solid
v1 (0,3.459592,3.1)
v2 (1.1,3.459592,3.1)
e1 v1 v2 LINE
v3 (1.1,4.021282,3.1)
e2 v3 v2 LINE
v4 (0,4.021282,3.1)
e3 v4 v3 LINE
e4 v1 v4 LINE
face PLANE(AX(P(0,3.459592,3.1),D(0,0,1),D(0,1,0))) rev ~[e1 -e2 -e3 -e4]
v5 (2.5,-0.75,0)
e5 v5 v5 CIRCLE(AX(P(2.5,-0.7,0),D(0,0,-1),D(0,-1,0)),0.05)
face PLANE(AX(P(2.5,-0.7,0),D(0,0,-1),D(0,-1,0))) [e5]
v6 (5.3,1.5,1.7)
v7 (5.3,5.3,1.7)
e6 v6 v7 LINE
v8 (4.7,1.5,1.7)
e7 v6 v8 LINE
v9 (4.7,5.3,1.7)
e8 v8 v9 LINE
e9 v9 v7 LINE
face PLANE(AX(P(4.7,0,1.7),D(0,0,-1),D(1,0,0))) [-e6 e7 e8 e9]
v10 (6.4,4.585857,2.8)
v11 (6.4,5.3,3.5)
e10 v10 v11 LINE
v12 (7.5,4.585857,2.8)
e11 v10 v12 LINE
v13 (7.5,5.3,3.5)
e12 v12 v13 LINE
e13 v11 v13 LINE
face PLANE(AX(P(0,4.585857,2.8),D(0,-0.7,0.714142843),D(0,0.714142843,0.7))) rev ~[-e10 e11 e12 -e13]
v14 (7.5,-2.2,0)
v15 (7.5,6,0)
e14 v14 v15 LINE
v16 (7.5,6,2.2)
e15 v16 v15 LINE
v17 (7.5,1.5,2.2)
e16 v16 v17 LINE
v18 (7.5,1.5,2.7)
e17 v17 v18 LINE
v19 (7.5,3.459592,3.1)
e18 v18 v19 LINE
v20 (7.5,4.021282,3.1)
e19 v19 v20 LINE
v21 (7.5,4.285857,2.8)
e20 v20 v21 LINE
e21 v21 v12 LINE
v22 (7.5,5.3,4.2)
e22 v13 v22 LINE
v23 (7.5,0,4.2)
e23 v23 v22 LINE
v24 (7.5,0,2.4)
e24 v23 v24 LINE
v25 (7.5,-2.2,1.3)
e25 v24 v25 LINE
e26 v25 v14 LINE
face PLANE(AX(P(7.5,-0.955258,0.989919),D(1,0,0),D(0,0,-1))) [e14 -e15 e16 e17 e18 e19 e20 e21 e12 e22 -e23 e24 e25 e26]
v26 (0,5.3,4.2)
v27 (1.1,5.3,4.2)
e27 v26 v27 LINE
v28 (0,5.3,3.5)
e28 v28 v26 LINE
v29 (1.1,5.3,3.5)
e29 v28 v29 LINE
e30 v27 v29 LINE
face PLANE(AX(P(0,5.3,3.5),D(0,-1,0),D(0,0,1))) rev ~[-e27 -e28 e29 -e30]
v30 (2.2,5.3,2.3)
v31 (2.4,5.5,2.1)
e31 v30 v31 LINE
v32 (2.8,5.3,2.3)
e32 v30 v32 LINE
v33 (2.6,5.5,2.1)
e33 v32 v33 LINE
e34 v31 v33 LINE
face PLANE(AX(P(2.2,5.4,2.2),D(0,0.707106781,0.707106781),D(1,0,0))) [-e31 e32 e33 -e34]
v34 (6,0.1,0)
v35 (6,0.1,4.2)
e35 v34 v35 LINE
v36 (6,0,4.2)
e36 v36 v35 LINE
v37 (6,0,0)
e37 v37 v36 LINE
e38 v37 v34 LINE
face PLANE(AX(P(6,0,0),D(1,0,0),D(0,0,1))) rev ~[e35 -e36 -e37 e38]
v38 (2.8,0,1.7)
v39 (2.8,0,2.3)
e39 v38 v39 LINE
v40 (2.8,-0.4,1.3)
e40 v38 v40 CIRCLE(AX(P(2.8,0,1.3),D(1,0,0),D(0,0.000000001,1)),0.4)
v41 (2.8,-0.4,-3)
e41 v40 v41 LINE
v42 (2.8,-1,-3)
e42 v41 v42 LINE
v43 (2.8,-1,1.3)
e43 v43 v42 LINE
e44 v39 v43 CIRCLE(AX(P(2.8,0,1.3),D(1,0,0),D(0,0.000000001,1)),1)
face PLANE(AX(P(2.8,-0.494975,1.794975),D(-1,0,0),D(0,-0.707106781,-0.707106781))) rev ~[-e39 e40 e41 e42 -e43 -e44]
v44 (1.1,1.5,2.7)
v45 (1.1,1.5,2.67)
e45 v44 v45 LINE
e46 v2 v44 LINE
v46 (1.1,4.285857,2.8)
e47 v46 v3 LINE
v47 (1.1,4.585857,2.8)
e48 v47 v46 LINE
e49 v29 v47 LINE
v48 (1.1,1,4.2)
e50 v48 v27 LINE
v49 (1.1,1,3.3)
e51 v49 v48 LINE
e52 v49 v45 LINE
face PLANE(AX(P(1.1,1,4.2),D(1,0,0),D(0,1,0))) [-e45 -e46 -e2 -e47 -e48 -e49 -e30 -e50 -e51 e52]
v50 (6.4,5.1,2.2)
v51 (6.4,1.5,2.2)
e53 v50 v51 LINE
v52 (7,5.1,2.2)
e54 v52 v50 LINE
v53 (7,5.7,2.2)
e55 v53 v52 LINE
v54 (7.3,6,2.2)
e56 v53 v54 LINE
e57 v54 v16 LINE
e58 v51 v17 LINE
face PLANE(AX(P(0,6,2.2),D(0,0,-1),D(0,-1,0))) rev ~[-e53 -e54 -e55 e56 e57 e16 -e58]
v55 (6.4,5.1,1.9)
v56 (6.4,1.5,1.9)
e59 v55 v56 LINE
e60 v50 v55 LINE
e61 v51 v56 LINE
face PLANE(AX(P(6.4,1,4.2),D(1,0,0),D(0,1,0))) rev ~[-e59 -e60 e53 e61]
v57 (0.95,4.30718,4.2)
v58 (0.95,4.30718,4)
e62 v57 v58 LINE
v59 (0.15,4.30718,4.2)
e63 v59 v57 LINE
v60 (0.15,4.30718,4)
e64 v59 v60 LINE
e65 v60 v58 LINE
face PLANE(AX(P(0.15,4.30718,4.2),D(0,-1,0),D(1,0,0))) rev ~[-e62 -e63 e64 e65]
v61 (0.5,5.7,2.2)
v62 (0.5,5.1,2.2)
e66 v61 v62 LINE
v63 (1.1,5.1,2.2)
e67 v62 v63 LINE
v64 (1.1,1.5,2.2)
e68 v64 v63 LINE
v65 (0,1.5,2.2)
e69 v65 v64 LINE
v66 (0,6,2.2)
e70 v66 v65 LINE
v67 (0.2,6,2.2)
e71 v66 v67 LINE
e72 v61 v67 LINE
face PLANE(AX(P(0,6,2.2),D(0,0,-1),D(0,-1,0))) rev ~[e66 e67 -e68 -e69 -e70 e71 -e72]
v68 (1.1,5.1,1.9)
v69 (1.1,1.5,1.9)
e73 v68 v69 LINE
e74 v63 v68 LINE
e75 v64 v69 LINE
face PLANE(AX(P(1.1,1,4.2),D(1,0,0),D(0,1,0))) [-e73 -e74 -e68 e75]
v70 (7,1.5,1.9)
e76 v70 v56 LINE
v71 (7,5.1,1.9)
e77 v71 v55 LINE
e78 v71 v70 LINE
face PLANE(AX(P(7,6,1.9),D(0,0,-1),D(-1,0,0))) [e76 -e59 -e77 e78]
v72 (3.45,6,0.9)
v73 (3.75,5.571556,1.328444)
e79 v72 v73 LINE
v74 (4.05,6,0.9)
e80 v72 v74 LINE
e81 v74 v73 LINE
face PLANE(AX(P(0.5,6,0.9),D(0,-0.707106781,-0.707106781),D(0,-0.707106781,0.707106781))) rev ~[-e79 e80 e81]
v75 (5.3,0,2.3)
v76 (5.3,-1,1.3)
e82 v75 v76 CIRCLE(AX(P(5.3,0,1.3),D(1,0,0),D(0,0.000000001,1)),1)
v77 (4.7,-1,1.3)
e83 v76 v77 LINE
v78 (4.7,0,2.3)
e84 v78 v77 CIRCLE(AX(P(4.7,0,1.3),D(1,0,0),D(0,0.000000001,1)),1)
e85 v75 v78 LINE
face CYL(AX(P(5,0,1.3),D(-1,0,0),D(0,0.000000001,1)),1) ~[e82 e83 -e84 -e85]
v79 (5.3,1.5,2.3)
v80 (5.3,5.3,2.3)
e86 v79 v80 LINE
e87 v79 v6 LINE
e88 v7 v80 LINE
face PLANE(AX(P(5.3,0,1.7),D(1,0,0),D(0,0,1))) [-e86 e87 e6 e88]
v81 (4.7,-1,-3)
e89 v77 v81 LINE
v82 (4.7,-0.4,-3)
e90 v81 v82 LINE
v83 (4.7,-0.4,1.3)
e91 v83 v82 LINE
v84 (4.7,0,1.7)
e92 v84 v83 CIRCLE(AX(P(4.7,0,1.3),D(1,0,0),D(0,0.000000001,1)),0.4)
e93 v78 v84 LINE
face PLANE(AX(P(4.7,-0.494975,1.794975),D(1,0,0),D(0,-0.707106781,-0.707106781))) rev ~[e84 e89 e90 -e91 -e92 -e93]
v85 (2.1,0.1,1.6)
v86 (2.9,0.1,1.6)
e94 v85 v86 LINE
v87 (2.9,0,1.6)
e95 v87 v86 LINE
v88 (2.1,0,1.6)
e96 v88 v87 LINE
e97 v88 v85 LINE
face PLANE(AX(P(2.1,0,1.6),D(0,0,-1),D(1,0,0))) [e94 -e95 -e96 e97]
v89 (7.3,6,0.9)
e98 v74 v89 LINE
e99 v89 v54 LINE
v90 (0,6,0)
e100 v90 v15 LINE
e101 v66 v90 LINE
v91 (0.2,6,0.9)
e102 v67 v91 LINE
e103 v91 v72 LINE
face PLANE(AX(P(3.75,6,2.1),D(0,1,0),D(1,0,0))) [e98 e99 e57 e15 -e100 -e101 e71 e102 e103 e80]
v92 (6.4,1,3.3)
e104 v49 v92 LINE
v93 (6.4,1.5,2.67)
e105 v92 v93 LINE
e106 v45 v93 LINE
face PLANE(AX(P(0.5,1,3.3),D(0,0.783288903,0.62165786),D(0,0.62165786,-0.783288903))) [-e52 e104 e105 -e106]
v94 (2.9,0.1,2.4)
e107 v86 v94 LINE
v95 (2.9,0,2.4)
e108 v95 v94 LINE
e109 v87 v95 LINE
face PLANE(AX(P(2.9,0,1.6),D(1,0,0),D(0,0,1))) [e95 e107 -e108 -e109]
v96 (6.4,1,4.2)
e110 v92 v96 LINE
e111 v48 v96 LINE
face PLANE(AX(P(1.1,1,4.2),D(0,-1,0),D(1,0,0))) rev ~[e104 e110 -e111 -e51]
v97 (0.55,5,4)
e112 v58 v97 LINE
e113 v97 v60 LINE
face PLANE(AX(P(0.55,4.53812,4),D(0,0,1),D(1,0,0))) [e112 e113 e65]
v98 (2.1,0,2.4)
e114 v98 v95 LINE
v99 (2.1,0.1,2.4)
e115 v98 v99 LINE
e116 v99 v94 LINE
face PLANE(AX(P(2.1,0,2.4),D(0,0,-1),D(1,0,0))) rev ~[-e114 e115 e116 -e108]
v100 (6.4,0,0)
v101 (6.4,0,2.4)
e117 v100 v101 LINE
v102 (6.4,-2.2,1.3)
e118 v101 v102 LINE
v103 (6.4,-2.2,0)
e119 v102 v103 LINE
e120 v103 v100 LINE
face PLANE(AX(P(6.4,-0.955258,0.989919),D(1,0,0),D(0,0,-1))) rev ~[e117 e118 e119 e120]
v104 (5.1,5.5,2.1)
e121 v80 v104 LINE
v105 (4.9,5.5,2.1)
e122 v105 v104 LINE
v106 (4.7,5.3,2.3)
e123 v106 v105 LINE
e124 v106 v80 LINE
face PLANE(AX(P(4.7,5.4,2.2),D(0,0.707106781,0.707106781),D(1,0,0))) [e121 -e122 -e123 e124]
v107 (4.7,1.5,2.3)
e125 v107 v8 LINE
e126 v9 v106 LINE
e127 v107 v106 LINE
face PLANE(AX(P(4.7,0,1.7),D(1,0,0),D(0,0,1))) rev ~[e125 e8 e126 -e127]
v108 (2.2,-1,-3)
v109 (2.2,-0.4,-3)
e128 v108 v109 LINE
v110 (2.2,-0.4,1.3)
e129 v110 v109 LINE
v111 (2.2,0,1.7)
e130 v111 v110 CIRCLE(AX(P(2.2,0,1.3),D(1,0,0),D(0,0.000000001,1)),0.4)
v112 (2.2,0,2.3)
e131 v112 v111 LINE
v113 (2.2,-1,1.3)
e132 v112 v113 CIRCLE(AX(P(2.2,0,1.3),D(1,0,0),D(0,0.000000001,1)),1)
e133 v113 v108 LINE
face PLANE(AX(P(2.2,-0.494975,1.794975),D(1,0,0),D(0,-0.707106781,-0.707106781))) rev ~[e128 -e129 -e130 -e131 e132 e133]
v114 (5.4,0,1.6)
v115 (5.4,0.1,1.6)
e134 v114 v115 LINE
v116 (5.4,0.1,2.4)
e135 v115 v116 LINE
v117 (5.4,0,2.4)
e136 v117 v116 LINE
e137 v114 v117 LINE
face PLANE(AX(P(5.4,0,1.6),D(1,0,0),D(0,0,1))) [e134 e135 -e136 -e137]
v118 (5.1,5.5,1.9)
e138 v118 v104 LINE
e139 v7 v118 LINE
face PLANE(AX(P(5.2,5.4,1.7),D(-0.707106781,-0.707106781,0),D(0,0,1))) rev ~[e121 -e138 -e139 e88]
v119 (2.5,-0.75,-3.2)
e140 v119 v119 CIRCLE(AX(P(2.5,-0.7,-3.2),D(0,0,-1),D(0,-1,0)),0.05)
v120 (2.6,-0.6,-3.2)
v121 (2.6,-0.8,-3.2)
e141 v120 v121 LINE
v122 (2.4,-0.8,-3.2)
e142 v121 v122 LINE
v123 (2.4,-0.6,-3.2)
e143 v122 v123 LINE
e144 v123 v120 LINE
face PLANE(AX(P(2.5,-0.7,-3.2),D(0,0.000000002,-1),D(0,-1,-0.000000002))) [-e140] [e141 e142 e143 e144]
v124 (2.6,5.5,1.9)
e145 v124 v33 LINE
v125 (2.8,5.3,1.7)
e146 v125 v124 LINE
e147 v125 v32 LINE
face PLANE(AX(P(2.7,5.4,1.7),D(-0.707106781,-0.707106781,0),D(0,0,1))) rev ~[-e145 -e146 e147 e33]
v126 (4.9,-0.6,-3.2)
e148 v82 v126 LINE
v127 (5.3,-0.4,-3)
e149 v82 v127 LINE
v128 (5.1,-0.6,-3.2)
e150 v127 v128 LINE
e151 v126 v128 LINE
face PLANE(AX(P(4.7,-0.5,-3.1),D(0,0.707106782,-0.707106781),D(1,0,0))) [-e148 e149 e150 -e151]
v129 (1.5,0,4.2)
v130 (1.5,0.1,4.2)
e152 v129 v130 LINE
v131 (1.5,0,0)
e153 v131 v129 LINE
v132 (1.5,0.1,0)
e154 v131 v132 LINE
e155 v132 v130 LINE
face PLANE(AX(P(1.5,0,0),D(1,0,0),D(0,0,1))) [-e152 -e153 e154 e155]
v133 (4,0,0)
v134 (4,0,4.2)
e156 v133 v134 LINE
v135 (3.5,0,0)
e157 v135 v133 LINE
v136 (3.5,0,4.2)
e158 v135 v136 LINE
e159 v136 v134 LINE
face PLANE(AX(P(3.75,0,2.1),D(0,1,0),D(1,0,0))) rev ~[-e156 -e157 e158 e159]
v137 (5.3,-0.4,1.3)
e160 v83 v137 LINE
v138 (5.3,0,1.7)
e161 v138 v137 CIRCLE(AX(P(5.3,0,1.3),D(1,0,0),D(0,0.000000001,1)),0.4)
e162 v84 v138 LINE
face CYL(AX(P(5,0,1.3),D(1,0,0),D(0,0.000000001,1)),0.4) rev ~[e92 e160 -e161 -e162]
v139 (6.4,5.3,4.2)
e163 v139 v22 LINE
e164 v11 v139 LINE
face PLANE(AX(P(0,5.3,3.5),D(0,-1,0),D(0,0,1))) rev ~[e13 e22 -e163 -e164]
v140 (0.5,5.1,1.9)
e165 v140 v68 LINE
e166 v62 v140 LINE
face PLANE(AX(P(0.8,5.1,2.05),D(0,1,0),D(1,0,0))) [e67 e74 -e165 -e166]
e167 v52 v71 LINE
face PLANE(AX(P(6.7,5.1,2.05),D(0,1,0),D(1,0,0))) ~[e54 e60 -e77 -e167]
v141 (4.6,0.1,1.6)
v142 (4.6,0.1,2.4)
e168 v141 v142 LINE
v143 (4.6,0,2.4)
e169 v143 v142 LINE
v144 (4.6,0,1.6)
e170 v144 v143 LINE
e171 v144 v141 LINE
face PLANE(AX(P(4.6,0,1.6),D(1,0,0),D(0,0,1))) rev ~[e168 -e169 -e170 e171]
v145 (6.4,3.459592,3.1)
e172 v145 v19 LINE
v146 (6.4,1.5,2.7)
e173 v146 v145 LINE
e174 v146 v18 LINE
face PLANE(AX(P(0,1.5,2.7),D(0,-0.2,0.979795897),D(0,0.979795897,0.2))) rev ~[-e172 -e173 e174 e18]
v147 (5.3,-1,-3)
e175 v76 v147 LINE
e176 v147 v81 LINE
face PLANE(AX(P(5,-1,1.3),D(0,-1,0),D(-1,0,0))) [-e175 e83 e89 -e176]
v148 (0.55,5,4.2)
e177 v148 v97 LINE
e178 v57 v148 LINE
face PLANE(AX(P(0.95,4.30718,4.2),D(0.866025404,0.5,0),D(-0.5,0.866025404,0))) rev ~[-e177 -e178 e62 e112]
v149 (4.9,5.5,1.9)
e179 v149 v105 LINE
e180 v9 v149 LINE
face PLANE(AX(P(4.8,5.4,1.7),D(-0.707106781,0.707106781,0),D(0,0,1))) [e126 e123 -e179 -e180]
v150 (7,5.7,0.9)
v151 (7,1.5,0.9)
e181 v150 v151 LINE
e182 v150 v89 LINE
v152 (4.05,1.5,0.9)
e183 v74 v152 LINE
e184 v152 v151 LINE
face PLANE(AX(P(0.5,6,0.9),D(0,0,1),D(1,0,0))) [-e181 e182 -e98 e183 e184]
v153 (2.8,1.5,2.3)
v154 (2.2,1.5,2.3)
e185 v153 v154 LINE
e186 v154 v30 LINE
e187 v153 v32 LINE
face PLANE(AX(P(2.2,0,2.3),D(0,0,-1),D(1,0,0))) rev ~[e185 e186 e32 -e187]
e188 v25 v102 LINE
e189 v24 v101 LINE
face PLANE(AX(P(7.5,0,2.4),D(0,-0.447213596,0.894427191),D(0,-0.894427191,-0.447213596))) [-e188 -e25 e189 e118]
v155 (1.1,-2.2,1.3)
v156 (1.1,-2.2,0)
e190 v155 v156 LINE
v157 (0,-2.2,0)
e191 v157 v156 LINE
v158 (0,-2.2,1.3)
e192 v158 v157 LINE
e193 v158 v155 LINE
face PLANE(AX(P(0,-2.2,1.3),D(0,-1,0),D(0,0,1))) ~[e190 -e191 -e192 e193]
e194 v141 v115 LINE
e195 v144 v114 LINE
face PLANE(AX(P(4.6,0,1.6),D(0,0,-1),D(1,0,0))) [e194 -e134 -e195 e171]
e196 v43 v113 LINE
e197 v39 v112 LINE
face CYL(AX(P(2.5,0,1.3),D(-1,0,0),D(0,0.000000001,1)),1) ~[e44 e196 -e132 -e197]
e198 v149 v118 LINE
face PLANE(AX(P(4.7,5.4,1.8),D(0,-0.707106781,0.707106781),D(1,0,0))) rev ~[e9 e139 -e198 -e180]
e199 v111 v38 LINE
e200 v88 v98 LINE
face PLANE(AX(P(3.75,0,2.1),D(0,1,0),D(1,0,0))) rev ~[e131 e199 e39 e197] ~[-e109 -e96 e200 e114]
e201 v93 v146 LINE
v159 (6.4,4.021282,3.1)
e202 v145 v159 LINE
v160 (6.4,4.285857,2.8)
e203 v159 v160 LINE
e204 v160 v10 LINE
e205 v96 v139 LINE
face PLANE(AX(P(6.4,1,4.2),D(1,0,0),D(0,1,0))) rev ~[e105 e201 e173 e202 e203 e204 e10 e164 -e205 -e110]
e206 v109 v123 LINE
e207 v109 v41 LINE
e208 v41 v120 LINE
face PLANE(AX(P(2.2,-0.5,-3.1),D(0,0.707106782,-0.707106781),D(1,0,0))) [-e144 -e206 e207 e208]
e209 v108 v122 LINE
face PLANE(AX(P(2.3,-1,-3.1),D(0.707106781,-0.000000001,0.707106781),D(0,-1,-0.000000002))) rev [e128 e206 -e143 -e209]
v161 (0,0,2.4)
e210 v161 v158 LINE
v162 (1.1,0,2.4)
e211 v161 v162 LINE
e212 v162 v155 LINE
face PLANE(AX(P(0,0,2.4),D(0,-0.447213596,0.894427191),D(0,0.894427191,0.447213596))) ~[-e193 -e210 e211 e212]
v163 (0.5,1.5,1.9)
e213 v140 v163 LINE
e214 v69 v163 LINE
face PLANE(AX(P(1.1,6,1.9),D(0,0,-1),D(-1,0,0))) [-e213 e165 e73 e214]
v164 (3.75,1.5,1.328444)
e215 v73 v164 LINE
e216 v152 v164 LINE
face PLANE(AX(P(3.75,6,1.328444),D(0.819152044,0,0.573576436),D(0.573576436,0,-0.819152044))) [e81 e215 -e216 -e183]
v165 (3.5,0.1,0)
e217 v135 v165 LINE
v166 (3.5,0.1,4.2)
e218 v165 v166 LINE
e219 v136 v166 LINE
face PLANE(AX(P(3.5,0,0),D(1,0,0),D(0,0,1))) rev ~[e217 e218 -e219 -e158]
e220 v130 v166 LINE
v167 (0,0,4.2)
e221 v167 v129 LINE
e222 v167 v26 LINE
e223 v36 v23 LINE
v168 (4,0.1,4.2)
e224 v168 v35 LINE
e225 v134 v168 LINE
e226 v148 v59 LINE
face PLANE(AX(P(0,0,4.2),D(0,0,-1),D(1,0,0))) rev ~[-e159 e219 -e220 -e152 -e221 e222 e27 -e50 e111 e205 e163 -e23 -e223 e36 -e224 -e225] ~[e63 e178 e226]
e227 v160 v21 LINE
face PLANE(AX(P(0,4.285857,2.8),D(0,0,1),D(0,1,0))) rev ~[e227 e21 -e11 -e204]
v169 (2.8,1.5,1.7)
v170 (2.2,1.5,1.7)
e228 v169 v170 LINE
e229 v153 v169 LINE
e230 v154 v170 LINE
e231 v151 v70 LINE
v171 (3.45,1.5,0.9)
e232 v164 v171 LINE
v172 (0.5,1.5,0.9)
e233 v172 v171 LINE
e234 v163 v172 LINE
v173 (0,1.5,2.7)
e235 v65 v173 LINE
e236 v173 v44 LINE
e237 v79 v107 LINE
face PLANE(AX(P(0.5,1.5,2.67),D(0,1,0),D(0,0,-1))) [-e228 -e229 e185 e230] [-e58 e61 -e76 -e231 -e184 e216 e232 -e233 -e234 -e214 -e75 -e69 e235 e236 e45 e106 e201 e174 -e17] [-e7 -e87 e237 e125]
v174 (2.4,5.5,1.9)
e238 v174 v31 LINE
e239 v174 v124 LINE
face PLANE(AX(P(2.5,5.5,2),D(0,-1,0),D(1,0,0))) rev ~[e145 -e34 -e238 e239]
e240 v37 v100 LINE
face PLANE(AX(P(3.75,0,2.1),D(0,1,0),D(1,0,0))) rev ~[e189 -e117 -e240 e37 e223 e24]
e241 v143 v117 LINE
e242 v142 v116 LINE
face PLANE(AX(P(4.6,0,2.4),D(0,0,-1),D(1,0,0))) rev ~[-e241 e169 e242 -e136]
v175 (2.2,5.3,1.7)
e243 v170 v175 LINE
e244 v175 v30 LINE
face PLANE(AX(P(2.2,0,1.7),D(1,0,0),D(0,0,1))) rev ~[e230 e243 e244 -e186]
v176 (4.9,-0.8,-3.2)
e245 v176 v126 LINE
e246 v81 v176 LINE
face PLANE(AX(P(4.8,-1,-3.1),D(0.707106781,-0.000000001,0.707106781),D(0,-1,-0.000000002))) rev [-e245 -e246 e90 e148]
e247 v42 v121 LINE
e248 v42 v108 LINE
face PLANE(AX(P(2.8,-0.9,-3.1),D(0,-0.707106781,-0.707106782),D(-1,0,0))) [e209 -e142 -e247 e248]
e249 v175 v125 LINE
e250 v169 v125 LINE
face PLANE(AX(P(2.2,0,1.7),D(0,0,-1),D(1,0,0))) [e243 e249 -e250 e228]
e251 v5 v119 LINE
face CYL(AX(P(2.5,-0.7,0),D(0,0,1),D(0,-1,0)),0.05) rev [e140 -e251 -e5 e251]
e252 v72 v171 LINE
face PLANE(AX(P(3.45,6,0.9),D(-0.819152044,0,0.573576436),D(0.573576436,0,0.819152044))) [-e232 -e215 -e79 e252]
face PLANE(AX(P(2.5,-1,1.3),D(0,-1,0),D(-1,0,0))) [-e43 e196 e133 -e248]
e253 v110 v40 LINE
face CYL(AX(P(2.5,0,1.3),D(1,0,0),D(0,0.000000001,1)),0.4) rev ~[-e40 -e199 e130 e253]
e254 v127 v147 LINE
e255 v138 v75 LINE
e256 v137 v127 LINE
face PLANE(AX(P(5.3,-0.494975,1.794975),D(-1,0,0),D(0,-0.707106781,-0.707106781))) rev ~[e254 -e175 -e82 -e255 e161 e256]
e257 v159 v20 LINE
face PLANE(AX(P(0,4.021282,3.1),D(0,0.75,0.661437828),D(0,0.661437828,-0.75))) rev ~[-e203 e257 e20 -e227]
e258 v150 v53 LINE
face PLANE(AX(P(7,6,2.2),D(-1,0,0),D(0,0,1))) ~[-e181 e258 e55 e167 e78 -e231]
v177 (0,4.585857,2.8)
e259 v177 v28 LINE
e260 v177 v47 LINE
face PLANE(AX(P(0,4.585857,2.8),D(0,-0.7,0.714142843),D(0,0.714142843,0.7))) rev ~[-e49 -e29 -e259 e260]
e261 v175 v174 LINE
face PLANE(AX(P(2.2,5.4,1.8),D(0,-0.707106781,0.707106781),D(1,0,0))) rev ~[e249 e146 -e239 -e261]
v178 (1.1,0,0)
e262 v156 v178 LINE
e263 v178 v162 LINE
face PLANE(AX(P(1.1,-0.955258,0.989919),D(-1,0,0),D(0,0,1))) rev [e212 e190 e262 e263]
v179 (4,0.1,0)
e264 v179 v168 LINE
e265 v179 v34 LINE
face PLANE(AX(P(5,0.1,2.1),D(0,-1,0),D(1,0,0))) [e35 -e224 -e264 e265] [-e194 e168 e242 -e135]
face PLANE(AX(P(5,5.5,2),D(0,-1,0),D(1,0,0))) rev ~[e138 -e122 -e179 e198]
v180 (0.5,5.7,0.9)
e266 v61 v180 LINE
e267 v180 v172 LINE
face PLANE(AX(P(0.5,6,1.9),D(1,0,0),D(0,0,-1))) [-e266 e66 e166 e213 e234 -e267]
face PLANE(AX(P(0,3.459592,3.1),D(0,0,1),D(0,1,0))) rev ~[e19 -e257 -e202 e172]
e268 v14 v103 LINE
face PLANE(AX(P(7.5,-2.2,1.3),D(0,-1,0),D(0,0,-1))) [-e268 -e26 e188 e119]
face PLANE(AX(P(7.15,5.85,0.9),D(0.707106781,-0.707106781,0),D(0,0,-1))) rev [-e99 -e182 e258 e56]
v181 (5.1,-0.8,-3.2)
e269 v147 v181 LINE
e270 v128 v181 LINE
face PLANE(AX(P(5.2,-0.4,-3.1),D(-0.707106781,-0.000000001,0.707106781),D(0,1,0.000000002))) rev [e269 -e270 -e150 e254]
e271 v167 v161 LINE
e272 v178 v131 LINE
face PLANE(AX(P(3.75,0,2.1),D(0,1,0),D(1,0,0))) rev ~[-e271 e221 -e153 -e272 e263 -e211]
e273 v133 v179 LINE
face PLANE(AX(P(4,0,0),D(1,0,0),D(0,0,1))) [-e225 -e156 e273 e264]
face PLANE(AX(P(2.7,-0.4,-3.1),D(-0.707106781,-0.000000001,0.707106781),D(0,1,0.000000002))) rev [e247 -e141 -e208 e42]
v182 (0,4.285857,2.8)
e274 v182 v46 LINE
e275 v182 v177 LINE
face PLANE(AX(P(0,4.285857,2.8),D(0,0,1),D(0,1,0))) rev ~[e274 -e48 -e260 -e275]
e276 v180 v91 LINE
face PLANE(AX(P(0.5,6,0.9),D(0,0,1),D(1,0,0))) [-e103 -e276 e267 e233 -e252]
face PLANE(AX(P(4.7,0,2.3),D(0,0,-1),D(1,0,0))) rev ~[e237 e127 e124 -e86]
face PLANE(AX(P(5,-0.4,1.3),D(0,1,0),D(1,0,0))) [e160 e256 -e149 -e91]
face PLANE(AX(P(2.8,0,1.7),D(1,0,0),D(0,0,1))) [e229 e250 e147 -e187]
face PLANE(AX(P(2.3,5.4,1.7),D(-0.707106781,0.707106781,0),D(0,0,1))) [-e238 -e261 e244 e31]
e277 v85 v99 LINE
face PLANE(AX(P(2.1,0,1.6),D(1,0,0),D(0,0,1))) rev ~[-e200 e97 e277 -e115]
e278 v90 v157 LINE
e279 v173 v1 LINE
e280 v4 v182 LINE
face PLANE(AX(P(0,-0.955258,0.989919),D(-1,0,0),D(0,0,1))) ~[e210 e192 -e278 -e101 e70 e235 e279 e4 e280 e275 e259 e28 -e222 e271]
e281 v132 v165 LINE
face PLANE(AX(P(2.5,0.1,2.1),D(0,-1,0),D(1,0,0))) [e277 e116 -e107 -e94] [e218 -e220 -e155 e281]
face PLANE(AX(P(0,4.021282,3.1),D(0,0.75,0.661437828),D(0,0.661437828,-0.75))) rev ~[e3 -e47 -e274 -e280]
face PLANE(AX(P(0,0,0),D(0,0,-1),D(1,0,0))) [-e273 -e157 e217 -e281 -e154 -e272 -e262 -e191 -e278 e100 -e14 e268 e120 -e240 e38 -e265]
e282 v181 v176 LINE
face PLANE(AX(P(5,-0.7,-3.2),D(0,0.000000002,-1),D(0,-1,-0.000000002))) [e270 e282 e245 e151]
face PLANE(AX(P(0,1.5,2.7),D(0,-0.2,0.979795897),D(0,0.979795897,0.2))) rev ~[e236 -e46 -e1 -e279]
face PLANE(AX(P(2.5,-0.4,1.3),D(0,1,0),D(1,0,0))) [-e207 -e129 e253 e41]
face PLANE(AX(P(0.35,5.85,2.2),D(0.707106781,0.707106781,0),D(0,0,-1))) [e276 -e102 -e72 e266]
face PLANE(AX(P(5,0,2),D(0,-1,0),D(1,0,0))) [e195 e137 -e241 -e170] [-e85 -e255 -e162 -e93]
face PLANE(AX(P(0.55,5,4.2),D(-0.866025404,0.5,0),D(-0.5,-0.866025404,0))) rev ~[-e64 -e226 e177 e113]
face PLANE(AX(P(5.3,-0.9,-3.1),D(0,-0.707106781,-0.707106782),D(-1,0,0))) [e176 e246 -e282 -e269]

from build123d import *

# Parameters (mm, degrees)
SKETCH_1_W                         = 7.5
SKETCH_1_H                         = 4.2
EXTRUDE_1_DEPTH                    = 6
CUT_EXTRUDE_1_DEPTH                = 5
CUT_EXTRUDE_2_DEPTH                = 11.482843126
EXTRUDE_6_DEPTH                    = 1.1
CUT_EXTRUDE_3_REACH                = 12.483
SKETCH_5_W                         = 5.3
SKETCH_5_H                         = 4.3
EXTRUDE_3_REACH                    = 12.131
EXTRUDE_5_REACH                    = 13.88
SKETCH_11_W                        = 2
SKETCH_11_H                        = 4.2
SKETCH_11_W_2                      = 0.8
SKETCH_11_H_2                      = 0.8
CUT_EXTRUDE_5_DEPTH                = 0.1
SKETCH_15_R                        = 0.05
CUT_EXTRUDE_6_DEPTH                = 0.1
CUT_EXTRUDE_7_DEPTH                = 0.2
SKETCH_7_W                         = 0.6
SKETCH_7_H                         = 0.6
EXTRUDE_4_DEPTH                    = 5.5
SKETCH_18_W                        = 0.6
SKETCH_18_H                        = 0.6
CHAMFER_6_SIZE                     = 0.2
PATTERN_LINEAR_1_COUNT             = 2
PATTERN_LINEAR_1_PITCH             = 2.5
CHAMFER_6_OF_PATTERN_LINEAR_1_SIZE = 0.2
CUT_EXTRUDE_4_REACH                = 12.131
SKETCH_20_W                        = 0.6
SKETCH_20_H                        = 0.3
CUT_EXTRUDE_9_DEPTH                = 0.9
CHAMFER_5_SIZE                     = 0.3
SKETCH_19_R                        = 0.05
CUT_EXTRUDE_8_DEPTH                = 3.2


with BuildPart() as part:
    # Эскиз1 → Бобышка-Вытянуть1 (new body)
    with BuildSketch(Plane(origin=(0, 0, 0), x_dir=(1, 0, 0), z_dir=(0, 1, 0))):
        with Locations((3.75, -2.1)):
            Rectangle(SKETCH_1_W, SKETCH_1_H)
    extrude(amount=EXTRUDE_1_DEPTH)

    # Эскиз2 → Вырез-Вытянуть1 (cut)
    with BuildSketch(Plane(origin=(0, 6, 0), x_dir=(1, 0, 0), z_dir=(0, 1, 0))):
        Polygon((0.5, -0.9), (7, -0.9), (7, -1.9), (6.4, -1.9), (6.4, -3.7), (1.1, -3.7), (1.1, -1.9), (0.5, -1.9), align=None)
    extrude(amount=-CUT_EXTRUDE_1_DEPTH, mode=Mode.SUBTRACT)

    # Эскиз3 → Вырез-Вытянуть2 (cut, through all)
    with BuildSketch(Plane.ZY):
        Polygon((2.2, 6), (2.2, 1.5), (2.7, 1.5), (3.1, 3.459591794), (3.1, 4.021282026), (2.8, 4.285857157), (2.8, 4.585857157), (3.5, 5.3), (4.2, 5.3), (4.2, 6), align=None)
    extrude(amount=-CUT_EXTRUDE_2_DEPTH, mode=Mode.SUBTRACT)

    # Эскиз16 → Бобышка-Вытянуть6 (add)
    with BuildSketch(Plane(origin=(7.5, 0, 0), x_dir=(0, 0, -1), z_dir=(1, 0, 0))):
        Polygon((-2.4, 0), (-1.3, -2.2), (0, -2.2), (0, 0), align=None)
    extrude_6 = extrude(amount=-EXTRUDE_6_DEPTH)

    # Зеркальное отражение2: Бобышка-Вытянуть6 across plane
    add(extrude_6.mirror(Plane(origin=(3.75, 0, 0), x_dir=(0, 0, 1), z_dir=(1, 0, 0))))

    # Эскиз5 → Вырез-Вытянуть3 (cut, up to next)
    with BuildSketch(Plane.XY.offset(4.2), mode=Mode.PRIVATE) as cut_extrude_3_sk1:
        with Locations((3.75, 3.15)):
            Rectangle(SKETCH_5_W, SKETCH_5_H)
    cut_extrude_3_tool1 = extrude(cut_extrude_3_sk1.sketch, amount=-CUT_EXTRUDE_3_REACH, mode=Mode.PRIVATE) & part.part
    add(cut_extrude_3_tool1.solids().sort_by_distance((3.75, 3.15, 4.2))[0], mode=Mode.SUBTRACT)

    # Эскиз6 → Бобышка-Вытянуть3 (add, up to next)
    with BuildSketch(Plane(origin=(0.5, 0, 0), x_dir=(0, 0, -1), z_dir=(1, 0, 0)), mode=Mode.PRIVATE) as extrude_3_sk1:
        Polygon((-3.3, 1), (-2.67, 1.5), (-0.9, 1.5), (-0.9, 1), align=None)
    extrude_3_tool1 = extrude(extrude_3_sk1.sketch, amount=EXTRUDE_3_REACH, mode=Mode.PRIVATE) - part.part
    add(extrude_3_tool1.solids().sort_by_distance((0.5, 1.23741, 1.950432))[0])

    # Эскиз9 → Бобышка-Вытянуть5 (add, up to next)
    with BuildSketch(Plane(origin=(0, 6, 0), x_dir=(1, 0, 0), z_dir=(0, 1, 0)), mode=Mode.PRIVATE) as extrude_5_sk1:
        Polygon((3.45, -0.9), (3.75, -1.328444402), (4.05, -0.9), align=None)
    extrude_5_tool1 = extrude(extrude_5_sk1.sketch, amount=-EXTRUDE_5_REACH, mode=Mode.PRIVATE) - part.part
    add(extrude_5_tool1.solids().sort_by_distance((3.75, 6, 1.042815))[0])

    # Эскиз11 → Вырез-Вытянуть5 (cut)
    with BuildSketch(Plane.XZ):
        with Locations((2.5, 2.1)):
            Rectangle(SKETCH_11_W, SKETCH_11_H)
        with Locations((2.5, 2)):
            Rectangle(SKETCH_11_W_2, SKETCH_11_H_2, mode=Mode.SUBTRACT)
    cut_extrude_5 = extrude(amount=-CUT_EXTRUDE_5_DEPTH, mode=Mode.SUBTRACT)

    # Эскиз15 → Вырез-Вытянуть6 (cut)
    with BuildSketch(Plane.XZ):
        with Locations(Location((2.5, 2, 0), (0, 0, 270))):
            Circle(SKETCH_15_R)
    extrude(amount=-CUT_EXTRUDE_6_DEPTH, mode=Mode.SUBTRACT)

    # Эскиз17 → Вырез-Вытянуть7 (cut)
    with BuildSketch(Plane.XY.offset(4.2)):
        Polygon((0.55, 5), (0.15, 4.307179677), (0.95, 4.307179677), align=None)
    extrude(amount=-CUT_EXTRUDE_7_DEPTH, mode=Mode.SUBTRACT)

    # Эскиз7 → Бобышка-Вытянуть4 (add)
    with BuildSketch(Plane.XZ):
        with Locations((2.5, 2)):
            Rectangle(SKETCH_7_W, SKETCH_7_H)
    extrude_4 = extrude(amount=-EXTRUDE_4_DEPTH)

    # По траектории1: sweep along a curve in space
    with BuildLine() as sweep_1_path:
        Line((2.5, -0.7, 1.3), (2.5, -0.7, -3.2))
        ThreePointArc((2.5, 0, 2), (2.5, -0.494974747, 1.794974747), (2.5, -0.7, 1.3))
    # Эскиз18 → По траектории1 (sweep)
    with BuildSketch(Plane.XZ):
        with Locations((2.5, 2)):
            Rectangle(SKETCH_18_W, SKETCH_18_H)
    sweep_1 = sweep(path=sweep_1_path.line)

    # Фаска6
    chamfer_6_edges = [part.edges().sort_by_distance(p)[0] for p in [
        (2.8, 5.5, 2),
        (2.5, 5.5, 1.7),
        (2.2, 5.5, 2),
        (2.5, 5.5, 2.3),
        (2.8, -0.7, -3.2),
        (2.5, -1, -3.2),
        (2.2, -0.7, -3.2),
        (2.5, -0.4, -3.2),
    ]]
    chamfer(chamfer_6_edges, length=CHAMFER_6_SIZE)

    # Линейный массив1: Вырез-Вытянуть5, Бобышка-Вытянуть4, По траектории1 ×2
    with Locations(*[(i * PATTERN_LINEAR_1_PITCH, 0, 0) for i in range(1, PATTERN_LINEAR_1_COUNT)]):
        add(cut_extrude_5, mode=Mode.SUBTRACT)
        add(extrude_4)
        add(sweep_1)

    # Фаска6 of Линейный массив1
    chamfer_6_of_pattern_linear_1_edges = [part.edges().sort_by_distance(p)[0] for p in [
        (5.3, 5.5, 2),
        (5, 5.5, 1.7),
        (4.7, 5.5, 2),
        (5, 5.5, 2.3),
        (5.3, -0.7, -3.2),
        (5, -1, -3.2),
        (4.7, -0.7, -3.2),
        (5, -0.4, -3.2),
    ]]
    chamfer(chamfer_6_of_pattern_linear_1_edges, length=CHAMFER_6_OF_PATTERN_LINEAR_1_SIZE)

    # Вырез-Вытянуть4: up to this plane
    cut_extrude_4_end = Plane(origin=(4.05, -2.202, 0.9), z_dir=(0.8191520442889916, 0, 0.5735764363510465))
    # Эскиз10 → Вырез-Вытянуть4 (cut, up to the surface)
    with BuildSketch(Plane(origin=(0.5, 0, 0), x_dir=(0, 0, -1), z_dir=(1, 0, 0)), mode=Mode.PRIVATE) as cut_extrude_4_sk1:
        Polygon((-1.4, 6), (-0.9, 6), (-1.4, 5.5), align=None)
    cut_extrude_4_tool1 = split(extrude(cut_extrude_4_sk1.sketch, amount=CUT_EXTRUDE_4_REACH, mode=Mode.PRIVATE), bisect_by=cut_extrude_4_end, keep=Keep.BOTH, mode=Mode.PRIVATE)
    add(cut_extrude_4_tool1.solids().sort_by_distance((0.5, 5.833333, 1.233333))[0], mode=Mode.SUBTRACT)

    # Эскиз20 → Вырез-Вытянуть9 (cut)
    with BuildSketch(Plane(origin=(0, 6, 0), x_dir=(1, 0, 0), z_dir=(0, 1, 0))):
        with Locations((0.8, -2.05)):
            Rectangle(SKETCH_20_W, SKETCH_20_H)
    cut_extrude_9 = extrude(amount=-CUT_EXTRUDE_9_DEPTH, mode=Mode.SUBTRACT)

    # Зеркальное отражение3: Вырез-Вытянуть9 across plane
    add(cut_extrude_9.mirror(Plane(origin=(3.75, 0, 0), x_dir=(0, 0, 1), z_dir=(1, 0, 0))), mode=Mode.SUBTRACT)

    # Фаска5
    chamfer_5_edges = [part.edges().sort_by_distance(p)[0] for p in [
        (0.5, 6, 1.55),
        (7, 6, 1.55),
    ]]
    chamfer(chamfer_5_edges, length=CHAMFER_5_SIZE)

    # Эскиз19 → Вырез-Вытянуть8 (cut)
    with BuildSketch(Plane(origin=(0, 0, 0), x_dir=(-1, 0, 0), z_dir=(0, 0, -1))):
        with Locations(Location((-2.5, -0.7, 0), (0, 0, 270))):
            Circle(SKETCH_19_R)
    extrude(amount=CUT_EXTRUDE_8_DEPTH, mode=Mode.SUBTRACT)


solid = part.part
